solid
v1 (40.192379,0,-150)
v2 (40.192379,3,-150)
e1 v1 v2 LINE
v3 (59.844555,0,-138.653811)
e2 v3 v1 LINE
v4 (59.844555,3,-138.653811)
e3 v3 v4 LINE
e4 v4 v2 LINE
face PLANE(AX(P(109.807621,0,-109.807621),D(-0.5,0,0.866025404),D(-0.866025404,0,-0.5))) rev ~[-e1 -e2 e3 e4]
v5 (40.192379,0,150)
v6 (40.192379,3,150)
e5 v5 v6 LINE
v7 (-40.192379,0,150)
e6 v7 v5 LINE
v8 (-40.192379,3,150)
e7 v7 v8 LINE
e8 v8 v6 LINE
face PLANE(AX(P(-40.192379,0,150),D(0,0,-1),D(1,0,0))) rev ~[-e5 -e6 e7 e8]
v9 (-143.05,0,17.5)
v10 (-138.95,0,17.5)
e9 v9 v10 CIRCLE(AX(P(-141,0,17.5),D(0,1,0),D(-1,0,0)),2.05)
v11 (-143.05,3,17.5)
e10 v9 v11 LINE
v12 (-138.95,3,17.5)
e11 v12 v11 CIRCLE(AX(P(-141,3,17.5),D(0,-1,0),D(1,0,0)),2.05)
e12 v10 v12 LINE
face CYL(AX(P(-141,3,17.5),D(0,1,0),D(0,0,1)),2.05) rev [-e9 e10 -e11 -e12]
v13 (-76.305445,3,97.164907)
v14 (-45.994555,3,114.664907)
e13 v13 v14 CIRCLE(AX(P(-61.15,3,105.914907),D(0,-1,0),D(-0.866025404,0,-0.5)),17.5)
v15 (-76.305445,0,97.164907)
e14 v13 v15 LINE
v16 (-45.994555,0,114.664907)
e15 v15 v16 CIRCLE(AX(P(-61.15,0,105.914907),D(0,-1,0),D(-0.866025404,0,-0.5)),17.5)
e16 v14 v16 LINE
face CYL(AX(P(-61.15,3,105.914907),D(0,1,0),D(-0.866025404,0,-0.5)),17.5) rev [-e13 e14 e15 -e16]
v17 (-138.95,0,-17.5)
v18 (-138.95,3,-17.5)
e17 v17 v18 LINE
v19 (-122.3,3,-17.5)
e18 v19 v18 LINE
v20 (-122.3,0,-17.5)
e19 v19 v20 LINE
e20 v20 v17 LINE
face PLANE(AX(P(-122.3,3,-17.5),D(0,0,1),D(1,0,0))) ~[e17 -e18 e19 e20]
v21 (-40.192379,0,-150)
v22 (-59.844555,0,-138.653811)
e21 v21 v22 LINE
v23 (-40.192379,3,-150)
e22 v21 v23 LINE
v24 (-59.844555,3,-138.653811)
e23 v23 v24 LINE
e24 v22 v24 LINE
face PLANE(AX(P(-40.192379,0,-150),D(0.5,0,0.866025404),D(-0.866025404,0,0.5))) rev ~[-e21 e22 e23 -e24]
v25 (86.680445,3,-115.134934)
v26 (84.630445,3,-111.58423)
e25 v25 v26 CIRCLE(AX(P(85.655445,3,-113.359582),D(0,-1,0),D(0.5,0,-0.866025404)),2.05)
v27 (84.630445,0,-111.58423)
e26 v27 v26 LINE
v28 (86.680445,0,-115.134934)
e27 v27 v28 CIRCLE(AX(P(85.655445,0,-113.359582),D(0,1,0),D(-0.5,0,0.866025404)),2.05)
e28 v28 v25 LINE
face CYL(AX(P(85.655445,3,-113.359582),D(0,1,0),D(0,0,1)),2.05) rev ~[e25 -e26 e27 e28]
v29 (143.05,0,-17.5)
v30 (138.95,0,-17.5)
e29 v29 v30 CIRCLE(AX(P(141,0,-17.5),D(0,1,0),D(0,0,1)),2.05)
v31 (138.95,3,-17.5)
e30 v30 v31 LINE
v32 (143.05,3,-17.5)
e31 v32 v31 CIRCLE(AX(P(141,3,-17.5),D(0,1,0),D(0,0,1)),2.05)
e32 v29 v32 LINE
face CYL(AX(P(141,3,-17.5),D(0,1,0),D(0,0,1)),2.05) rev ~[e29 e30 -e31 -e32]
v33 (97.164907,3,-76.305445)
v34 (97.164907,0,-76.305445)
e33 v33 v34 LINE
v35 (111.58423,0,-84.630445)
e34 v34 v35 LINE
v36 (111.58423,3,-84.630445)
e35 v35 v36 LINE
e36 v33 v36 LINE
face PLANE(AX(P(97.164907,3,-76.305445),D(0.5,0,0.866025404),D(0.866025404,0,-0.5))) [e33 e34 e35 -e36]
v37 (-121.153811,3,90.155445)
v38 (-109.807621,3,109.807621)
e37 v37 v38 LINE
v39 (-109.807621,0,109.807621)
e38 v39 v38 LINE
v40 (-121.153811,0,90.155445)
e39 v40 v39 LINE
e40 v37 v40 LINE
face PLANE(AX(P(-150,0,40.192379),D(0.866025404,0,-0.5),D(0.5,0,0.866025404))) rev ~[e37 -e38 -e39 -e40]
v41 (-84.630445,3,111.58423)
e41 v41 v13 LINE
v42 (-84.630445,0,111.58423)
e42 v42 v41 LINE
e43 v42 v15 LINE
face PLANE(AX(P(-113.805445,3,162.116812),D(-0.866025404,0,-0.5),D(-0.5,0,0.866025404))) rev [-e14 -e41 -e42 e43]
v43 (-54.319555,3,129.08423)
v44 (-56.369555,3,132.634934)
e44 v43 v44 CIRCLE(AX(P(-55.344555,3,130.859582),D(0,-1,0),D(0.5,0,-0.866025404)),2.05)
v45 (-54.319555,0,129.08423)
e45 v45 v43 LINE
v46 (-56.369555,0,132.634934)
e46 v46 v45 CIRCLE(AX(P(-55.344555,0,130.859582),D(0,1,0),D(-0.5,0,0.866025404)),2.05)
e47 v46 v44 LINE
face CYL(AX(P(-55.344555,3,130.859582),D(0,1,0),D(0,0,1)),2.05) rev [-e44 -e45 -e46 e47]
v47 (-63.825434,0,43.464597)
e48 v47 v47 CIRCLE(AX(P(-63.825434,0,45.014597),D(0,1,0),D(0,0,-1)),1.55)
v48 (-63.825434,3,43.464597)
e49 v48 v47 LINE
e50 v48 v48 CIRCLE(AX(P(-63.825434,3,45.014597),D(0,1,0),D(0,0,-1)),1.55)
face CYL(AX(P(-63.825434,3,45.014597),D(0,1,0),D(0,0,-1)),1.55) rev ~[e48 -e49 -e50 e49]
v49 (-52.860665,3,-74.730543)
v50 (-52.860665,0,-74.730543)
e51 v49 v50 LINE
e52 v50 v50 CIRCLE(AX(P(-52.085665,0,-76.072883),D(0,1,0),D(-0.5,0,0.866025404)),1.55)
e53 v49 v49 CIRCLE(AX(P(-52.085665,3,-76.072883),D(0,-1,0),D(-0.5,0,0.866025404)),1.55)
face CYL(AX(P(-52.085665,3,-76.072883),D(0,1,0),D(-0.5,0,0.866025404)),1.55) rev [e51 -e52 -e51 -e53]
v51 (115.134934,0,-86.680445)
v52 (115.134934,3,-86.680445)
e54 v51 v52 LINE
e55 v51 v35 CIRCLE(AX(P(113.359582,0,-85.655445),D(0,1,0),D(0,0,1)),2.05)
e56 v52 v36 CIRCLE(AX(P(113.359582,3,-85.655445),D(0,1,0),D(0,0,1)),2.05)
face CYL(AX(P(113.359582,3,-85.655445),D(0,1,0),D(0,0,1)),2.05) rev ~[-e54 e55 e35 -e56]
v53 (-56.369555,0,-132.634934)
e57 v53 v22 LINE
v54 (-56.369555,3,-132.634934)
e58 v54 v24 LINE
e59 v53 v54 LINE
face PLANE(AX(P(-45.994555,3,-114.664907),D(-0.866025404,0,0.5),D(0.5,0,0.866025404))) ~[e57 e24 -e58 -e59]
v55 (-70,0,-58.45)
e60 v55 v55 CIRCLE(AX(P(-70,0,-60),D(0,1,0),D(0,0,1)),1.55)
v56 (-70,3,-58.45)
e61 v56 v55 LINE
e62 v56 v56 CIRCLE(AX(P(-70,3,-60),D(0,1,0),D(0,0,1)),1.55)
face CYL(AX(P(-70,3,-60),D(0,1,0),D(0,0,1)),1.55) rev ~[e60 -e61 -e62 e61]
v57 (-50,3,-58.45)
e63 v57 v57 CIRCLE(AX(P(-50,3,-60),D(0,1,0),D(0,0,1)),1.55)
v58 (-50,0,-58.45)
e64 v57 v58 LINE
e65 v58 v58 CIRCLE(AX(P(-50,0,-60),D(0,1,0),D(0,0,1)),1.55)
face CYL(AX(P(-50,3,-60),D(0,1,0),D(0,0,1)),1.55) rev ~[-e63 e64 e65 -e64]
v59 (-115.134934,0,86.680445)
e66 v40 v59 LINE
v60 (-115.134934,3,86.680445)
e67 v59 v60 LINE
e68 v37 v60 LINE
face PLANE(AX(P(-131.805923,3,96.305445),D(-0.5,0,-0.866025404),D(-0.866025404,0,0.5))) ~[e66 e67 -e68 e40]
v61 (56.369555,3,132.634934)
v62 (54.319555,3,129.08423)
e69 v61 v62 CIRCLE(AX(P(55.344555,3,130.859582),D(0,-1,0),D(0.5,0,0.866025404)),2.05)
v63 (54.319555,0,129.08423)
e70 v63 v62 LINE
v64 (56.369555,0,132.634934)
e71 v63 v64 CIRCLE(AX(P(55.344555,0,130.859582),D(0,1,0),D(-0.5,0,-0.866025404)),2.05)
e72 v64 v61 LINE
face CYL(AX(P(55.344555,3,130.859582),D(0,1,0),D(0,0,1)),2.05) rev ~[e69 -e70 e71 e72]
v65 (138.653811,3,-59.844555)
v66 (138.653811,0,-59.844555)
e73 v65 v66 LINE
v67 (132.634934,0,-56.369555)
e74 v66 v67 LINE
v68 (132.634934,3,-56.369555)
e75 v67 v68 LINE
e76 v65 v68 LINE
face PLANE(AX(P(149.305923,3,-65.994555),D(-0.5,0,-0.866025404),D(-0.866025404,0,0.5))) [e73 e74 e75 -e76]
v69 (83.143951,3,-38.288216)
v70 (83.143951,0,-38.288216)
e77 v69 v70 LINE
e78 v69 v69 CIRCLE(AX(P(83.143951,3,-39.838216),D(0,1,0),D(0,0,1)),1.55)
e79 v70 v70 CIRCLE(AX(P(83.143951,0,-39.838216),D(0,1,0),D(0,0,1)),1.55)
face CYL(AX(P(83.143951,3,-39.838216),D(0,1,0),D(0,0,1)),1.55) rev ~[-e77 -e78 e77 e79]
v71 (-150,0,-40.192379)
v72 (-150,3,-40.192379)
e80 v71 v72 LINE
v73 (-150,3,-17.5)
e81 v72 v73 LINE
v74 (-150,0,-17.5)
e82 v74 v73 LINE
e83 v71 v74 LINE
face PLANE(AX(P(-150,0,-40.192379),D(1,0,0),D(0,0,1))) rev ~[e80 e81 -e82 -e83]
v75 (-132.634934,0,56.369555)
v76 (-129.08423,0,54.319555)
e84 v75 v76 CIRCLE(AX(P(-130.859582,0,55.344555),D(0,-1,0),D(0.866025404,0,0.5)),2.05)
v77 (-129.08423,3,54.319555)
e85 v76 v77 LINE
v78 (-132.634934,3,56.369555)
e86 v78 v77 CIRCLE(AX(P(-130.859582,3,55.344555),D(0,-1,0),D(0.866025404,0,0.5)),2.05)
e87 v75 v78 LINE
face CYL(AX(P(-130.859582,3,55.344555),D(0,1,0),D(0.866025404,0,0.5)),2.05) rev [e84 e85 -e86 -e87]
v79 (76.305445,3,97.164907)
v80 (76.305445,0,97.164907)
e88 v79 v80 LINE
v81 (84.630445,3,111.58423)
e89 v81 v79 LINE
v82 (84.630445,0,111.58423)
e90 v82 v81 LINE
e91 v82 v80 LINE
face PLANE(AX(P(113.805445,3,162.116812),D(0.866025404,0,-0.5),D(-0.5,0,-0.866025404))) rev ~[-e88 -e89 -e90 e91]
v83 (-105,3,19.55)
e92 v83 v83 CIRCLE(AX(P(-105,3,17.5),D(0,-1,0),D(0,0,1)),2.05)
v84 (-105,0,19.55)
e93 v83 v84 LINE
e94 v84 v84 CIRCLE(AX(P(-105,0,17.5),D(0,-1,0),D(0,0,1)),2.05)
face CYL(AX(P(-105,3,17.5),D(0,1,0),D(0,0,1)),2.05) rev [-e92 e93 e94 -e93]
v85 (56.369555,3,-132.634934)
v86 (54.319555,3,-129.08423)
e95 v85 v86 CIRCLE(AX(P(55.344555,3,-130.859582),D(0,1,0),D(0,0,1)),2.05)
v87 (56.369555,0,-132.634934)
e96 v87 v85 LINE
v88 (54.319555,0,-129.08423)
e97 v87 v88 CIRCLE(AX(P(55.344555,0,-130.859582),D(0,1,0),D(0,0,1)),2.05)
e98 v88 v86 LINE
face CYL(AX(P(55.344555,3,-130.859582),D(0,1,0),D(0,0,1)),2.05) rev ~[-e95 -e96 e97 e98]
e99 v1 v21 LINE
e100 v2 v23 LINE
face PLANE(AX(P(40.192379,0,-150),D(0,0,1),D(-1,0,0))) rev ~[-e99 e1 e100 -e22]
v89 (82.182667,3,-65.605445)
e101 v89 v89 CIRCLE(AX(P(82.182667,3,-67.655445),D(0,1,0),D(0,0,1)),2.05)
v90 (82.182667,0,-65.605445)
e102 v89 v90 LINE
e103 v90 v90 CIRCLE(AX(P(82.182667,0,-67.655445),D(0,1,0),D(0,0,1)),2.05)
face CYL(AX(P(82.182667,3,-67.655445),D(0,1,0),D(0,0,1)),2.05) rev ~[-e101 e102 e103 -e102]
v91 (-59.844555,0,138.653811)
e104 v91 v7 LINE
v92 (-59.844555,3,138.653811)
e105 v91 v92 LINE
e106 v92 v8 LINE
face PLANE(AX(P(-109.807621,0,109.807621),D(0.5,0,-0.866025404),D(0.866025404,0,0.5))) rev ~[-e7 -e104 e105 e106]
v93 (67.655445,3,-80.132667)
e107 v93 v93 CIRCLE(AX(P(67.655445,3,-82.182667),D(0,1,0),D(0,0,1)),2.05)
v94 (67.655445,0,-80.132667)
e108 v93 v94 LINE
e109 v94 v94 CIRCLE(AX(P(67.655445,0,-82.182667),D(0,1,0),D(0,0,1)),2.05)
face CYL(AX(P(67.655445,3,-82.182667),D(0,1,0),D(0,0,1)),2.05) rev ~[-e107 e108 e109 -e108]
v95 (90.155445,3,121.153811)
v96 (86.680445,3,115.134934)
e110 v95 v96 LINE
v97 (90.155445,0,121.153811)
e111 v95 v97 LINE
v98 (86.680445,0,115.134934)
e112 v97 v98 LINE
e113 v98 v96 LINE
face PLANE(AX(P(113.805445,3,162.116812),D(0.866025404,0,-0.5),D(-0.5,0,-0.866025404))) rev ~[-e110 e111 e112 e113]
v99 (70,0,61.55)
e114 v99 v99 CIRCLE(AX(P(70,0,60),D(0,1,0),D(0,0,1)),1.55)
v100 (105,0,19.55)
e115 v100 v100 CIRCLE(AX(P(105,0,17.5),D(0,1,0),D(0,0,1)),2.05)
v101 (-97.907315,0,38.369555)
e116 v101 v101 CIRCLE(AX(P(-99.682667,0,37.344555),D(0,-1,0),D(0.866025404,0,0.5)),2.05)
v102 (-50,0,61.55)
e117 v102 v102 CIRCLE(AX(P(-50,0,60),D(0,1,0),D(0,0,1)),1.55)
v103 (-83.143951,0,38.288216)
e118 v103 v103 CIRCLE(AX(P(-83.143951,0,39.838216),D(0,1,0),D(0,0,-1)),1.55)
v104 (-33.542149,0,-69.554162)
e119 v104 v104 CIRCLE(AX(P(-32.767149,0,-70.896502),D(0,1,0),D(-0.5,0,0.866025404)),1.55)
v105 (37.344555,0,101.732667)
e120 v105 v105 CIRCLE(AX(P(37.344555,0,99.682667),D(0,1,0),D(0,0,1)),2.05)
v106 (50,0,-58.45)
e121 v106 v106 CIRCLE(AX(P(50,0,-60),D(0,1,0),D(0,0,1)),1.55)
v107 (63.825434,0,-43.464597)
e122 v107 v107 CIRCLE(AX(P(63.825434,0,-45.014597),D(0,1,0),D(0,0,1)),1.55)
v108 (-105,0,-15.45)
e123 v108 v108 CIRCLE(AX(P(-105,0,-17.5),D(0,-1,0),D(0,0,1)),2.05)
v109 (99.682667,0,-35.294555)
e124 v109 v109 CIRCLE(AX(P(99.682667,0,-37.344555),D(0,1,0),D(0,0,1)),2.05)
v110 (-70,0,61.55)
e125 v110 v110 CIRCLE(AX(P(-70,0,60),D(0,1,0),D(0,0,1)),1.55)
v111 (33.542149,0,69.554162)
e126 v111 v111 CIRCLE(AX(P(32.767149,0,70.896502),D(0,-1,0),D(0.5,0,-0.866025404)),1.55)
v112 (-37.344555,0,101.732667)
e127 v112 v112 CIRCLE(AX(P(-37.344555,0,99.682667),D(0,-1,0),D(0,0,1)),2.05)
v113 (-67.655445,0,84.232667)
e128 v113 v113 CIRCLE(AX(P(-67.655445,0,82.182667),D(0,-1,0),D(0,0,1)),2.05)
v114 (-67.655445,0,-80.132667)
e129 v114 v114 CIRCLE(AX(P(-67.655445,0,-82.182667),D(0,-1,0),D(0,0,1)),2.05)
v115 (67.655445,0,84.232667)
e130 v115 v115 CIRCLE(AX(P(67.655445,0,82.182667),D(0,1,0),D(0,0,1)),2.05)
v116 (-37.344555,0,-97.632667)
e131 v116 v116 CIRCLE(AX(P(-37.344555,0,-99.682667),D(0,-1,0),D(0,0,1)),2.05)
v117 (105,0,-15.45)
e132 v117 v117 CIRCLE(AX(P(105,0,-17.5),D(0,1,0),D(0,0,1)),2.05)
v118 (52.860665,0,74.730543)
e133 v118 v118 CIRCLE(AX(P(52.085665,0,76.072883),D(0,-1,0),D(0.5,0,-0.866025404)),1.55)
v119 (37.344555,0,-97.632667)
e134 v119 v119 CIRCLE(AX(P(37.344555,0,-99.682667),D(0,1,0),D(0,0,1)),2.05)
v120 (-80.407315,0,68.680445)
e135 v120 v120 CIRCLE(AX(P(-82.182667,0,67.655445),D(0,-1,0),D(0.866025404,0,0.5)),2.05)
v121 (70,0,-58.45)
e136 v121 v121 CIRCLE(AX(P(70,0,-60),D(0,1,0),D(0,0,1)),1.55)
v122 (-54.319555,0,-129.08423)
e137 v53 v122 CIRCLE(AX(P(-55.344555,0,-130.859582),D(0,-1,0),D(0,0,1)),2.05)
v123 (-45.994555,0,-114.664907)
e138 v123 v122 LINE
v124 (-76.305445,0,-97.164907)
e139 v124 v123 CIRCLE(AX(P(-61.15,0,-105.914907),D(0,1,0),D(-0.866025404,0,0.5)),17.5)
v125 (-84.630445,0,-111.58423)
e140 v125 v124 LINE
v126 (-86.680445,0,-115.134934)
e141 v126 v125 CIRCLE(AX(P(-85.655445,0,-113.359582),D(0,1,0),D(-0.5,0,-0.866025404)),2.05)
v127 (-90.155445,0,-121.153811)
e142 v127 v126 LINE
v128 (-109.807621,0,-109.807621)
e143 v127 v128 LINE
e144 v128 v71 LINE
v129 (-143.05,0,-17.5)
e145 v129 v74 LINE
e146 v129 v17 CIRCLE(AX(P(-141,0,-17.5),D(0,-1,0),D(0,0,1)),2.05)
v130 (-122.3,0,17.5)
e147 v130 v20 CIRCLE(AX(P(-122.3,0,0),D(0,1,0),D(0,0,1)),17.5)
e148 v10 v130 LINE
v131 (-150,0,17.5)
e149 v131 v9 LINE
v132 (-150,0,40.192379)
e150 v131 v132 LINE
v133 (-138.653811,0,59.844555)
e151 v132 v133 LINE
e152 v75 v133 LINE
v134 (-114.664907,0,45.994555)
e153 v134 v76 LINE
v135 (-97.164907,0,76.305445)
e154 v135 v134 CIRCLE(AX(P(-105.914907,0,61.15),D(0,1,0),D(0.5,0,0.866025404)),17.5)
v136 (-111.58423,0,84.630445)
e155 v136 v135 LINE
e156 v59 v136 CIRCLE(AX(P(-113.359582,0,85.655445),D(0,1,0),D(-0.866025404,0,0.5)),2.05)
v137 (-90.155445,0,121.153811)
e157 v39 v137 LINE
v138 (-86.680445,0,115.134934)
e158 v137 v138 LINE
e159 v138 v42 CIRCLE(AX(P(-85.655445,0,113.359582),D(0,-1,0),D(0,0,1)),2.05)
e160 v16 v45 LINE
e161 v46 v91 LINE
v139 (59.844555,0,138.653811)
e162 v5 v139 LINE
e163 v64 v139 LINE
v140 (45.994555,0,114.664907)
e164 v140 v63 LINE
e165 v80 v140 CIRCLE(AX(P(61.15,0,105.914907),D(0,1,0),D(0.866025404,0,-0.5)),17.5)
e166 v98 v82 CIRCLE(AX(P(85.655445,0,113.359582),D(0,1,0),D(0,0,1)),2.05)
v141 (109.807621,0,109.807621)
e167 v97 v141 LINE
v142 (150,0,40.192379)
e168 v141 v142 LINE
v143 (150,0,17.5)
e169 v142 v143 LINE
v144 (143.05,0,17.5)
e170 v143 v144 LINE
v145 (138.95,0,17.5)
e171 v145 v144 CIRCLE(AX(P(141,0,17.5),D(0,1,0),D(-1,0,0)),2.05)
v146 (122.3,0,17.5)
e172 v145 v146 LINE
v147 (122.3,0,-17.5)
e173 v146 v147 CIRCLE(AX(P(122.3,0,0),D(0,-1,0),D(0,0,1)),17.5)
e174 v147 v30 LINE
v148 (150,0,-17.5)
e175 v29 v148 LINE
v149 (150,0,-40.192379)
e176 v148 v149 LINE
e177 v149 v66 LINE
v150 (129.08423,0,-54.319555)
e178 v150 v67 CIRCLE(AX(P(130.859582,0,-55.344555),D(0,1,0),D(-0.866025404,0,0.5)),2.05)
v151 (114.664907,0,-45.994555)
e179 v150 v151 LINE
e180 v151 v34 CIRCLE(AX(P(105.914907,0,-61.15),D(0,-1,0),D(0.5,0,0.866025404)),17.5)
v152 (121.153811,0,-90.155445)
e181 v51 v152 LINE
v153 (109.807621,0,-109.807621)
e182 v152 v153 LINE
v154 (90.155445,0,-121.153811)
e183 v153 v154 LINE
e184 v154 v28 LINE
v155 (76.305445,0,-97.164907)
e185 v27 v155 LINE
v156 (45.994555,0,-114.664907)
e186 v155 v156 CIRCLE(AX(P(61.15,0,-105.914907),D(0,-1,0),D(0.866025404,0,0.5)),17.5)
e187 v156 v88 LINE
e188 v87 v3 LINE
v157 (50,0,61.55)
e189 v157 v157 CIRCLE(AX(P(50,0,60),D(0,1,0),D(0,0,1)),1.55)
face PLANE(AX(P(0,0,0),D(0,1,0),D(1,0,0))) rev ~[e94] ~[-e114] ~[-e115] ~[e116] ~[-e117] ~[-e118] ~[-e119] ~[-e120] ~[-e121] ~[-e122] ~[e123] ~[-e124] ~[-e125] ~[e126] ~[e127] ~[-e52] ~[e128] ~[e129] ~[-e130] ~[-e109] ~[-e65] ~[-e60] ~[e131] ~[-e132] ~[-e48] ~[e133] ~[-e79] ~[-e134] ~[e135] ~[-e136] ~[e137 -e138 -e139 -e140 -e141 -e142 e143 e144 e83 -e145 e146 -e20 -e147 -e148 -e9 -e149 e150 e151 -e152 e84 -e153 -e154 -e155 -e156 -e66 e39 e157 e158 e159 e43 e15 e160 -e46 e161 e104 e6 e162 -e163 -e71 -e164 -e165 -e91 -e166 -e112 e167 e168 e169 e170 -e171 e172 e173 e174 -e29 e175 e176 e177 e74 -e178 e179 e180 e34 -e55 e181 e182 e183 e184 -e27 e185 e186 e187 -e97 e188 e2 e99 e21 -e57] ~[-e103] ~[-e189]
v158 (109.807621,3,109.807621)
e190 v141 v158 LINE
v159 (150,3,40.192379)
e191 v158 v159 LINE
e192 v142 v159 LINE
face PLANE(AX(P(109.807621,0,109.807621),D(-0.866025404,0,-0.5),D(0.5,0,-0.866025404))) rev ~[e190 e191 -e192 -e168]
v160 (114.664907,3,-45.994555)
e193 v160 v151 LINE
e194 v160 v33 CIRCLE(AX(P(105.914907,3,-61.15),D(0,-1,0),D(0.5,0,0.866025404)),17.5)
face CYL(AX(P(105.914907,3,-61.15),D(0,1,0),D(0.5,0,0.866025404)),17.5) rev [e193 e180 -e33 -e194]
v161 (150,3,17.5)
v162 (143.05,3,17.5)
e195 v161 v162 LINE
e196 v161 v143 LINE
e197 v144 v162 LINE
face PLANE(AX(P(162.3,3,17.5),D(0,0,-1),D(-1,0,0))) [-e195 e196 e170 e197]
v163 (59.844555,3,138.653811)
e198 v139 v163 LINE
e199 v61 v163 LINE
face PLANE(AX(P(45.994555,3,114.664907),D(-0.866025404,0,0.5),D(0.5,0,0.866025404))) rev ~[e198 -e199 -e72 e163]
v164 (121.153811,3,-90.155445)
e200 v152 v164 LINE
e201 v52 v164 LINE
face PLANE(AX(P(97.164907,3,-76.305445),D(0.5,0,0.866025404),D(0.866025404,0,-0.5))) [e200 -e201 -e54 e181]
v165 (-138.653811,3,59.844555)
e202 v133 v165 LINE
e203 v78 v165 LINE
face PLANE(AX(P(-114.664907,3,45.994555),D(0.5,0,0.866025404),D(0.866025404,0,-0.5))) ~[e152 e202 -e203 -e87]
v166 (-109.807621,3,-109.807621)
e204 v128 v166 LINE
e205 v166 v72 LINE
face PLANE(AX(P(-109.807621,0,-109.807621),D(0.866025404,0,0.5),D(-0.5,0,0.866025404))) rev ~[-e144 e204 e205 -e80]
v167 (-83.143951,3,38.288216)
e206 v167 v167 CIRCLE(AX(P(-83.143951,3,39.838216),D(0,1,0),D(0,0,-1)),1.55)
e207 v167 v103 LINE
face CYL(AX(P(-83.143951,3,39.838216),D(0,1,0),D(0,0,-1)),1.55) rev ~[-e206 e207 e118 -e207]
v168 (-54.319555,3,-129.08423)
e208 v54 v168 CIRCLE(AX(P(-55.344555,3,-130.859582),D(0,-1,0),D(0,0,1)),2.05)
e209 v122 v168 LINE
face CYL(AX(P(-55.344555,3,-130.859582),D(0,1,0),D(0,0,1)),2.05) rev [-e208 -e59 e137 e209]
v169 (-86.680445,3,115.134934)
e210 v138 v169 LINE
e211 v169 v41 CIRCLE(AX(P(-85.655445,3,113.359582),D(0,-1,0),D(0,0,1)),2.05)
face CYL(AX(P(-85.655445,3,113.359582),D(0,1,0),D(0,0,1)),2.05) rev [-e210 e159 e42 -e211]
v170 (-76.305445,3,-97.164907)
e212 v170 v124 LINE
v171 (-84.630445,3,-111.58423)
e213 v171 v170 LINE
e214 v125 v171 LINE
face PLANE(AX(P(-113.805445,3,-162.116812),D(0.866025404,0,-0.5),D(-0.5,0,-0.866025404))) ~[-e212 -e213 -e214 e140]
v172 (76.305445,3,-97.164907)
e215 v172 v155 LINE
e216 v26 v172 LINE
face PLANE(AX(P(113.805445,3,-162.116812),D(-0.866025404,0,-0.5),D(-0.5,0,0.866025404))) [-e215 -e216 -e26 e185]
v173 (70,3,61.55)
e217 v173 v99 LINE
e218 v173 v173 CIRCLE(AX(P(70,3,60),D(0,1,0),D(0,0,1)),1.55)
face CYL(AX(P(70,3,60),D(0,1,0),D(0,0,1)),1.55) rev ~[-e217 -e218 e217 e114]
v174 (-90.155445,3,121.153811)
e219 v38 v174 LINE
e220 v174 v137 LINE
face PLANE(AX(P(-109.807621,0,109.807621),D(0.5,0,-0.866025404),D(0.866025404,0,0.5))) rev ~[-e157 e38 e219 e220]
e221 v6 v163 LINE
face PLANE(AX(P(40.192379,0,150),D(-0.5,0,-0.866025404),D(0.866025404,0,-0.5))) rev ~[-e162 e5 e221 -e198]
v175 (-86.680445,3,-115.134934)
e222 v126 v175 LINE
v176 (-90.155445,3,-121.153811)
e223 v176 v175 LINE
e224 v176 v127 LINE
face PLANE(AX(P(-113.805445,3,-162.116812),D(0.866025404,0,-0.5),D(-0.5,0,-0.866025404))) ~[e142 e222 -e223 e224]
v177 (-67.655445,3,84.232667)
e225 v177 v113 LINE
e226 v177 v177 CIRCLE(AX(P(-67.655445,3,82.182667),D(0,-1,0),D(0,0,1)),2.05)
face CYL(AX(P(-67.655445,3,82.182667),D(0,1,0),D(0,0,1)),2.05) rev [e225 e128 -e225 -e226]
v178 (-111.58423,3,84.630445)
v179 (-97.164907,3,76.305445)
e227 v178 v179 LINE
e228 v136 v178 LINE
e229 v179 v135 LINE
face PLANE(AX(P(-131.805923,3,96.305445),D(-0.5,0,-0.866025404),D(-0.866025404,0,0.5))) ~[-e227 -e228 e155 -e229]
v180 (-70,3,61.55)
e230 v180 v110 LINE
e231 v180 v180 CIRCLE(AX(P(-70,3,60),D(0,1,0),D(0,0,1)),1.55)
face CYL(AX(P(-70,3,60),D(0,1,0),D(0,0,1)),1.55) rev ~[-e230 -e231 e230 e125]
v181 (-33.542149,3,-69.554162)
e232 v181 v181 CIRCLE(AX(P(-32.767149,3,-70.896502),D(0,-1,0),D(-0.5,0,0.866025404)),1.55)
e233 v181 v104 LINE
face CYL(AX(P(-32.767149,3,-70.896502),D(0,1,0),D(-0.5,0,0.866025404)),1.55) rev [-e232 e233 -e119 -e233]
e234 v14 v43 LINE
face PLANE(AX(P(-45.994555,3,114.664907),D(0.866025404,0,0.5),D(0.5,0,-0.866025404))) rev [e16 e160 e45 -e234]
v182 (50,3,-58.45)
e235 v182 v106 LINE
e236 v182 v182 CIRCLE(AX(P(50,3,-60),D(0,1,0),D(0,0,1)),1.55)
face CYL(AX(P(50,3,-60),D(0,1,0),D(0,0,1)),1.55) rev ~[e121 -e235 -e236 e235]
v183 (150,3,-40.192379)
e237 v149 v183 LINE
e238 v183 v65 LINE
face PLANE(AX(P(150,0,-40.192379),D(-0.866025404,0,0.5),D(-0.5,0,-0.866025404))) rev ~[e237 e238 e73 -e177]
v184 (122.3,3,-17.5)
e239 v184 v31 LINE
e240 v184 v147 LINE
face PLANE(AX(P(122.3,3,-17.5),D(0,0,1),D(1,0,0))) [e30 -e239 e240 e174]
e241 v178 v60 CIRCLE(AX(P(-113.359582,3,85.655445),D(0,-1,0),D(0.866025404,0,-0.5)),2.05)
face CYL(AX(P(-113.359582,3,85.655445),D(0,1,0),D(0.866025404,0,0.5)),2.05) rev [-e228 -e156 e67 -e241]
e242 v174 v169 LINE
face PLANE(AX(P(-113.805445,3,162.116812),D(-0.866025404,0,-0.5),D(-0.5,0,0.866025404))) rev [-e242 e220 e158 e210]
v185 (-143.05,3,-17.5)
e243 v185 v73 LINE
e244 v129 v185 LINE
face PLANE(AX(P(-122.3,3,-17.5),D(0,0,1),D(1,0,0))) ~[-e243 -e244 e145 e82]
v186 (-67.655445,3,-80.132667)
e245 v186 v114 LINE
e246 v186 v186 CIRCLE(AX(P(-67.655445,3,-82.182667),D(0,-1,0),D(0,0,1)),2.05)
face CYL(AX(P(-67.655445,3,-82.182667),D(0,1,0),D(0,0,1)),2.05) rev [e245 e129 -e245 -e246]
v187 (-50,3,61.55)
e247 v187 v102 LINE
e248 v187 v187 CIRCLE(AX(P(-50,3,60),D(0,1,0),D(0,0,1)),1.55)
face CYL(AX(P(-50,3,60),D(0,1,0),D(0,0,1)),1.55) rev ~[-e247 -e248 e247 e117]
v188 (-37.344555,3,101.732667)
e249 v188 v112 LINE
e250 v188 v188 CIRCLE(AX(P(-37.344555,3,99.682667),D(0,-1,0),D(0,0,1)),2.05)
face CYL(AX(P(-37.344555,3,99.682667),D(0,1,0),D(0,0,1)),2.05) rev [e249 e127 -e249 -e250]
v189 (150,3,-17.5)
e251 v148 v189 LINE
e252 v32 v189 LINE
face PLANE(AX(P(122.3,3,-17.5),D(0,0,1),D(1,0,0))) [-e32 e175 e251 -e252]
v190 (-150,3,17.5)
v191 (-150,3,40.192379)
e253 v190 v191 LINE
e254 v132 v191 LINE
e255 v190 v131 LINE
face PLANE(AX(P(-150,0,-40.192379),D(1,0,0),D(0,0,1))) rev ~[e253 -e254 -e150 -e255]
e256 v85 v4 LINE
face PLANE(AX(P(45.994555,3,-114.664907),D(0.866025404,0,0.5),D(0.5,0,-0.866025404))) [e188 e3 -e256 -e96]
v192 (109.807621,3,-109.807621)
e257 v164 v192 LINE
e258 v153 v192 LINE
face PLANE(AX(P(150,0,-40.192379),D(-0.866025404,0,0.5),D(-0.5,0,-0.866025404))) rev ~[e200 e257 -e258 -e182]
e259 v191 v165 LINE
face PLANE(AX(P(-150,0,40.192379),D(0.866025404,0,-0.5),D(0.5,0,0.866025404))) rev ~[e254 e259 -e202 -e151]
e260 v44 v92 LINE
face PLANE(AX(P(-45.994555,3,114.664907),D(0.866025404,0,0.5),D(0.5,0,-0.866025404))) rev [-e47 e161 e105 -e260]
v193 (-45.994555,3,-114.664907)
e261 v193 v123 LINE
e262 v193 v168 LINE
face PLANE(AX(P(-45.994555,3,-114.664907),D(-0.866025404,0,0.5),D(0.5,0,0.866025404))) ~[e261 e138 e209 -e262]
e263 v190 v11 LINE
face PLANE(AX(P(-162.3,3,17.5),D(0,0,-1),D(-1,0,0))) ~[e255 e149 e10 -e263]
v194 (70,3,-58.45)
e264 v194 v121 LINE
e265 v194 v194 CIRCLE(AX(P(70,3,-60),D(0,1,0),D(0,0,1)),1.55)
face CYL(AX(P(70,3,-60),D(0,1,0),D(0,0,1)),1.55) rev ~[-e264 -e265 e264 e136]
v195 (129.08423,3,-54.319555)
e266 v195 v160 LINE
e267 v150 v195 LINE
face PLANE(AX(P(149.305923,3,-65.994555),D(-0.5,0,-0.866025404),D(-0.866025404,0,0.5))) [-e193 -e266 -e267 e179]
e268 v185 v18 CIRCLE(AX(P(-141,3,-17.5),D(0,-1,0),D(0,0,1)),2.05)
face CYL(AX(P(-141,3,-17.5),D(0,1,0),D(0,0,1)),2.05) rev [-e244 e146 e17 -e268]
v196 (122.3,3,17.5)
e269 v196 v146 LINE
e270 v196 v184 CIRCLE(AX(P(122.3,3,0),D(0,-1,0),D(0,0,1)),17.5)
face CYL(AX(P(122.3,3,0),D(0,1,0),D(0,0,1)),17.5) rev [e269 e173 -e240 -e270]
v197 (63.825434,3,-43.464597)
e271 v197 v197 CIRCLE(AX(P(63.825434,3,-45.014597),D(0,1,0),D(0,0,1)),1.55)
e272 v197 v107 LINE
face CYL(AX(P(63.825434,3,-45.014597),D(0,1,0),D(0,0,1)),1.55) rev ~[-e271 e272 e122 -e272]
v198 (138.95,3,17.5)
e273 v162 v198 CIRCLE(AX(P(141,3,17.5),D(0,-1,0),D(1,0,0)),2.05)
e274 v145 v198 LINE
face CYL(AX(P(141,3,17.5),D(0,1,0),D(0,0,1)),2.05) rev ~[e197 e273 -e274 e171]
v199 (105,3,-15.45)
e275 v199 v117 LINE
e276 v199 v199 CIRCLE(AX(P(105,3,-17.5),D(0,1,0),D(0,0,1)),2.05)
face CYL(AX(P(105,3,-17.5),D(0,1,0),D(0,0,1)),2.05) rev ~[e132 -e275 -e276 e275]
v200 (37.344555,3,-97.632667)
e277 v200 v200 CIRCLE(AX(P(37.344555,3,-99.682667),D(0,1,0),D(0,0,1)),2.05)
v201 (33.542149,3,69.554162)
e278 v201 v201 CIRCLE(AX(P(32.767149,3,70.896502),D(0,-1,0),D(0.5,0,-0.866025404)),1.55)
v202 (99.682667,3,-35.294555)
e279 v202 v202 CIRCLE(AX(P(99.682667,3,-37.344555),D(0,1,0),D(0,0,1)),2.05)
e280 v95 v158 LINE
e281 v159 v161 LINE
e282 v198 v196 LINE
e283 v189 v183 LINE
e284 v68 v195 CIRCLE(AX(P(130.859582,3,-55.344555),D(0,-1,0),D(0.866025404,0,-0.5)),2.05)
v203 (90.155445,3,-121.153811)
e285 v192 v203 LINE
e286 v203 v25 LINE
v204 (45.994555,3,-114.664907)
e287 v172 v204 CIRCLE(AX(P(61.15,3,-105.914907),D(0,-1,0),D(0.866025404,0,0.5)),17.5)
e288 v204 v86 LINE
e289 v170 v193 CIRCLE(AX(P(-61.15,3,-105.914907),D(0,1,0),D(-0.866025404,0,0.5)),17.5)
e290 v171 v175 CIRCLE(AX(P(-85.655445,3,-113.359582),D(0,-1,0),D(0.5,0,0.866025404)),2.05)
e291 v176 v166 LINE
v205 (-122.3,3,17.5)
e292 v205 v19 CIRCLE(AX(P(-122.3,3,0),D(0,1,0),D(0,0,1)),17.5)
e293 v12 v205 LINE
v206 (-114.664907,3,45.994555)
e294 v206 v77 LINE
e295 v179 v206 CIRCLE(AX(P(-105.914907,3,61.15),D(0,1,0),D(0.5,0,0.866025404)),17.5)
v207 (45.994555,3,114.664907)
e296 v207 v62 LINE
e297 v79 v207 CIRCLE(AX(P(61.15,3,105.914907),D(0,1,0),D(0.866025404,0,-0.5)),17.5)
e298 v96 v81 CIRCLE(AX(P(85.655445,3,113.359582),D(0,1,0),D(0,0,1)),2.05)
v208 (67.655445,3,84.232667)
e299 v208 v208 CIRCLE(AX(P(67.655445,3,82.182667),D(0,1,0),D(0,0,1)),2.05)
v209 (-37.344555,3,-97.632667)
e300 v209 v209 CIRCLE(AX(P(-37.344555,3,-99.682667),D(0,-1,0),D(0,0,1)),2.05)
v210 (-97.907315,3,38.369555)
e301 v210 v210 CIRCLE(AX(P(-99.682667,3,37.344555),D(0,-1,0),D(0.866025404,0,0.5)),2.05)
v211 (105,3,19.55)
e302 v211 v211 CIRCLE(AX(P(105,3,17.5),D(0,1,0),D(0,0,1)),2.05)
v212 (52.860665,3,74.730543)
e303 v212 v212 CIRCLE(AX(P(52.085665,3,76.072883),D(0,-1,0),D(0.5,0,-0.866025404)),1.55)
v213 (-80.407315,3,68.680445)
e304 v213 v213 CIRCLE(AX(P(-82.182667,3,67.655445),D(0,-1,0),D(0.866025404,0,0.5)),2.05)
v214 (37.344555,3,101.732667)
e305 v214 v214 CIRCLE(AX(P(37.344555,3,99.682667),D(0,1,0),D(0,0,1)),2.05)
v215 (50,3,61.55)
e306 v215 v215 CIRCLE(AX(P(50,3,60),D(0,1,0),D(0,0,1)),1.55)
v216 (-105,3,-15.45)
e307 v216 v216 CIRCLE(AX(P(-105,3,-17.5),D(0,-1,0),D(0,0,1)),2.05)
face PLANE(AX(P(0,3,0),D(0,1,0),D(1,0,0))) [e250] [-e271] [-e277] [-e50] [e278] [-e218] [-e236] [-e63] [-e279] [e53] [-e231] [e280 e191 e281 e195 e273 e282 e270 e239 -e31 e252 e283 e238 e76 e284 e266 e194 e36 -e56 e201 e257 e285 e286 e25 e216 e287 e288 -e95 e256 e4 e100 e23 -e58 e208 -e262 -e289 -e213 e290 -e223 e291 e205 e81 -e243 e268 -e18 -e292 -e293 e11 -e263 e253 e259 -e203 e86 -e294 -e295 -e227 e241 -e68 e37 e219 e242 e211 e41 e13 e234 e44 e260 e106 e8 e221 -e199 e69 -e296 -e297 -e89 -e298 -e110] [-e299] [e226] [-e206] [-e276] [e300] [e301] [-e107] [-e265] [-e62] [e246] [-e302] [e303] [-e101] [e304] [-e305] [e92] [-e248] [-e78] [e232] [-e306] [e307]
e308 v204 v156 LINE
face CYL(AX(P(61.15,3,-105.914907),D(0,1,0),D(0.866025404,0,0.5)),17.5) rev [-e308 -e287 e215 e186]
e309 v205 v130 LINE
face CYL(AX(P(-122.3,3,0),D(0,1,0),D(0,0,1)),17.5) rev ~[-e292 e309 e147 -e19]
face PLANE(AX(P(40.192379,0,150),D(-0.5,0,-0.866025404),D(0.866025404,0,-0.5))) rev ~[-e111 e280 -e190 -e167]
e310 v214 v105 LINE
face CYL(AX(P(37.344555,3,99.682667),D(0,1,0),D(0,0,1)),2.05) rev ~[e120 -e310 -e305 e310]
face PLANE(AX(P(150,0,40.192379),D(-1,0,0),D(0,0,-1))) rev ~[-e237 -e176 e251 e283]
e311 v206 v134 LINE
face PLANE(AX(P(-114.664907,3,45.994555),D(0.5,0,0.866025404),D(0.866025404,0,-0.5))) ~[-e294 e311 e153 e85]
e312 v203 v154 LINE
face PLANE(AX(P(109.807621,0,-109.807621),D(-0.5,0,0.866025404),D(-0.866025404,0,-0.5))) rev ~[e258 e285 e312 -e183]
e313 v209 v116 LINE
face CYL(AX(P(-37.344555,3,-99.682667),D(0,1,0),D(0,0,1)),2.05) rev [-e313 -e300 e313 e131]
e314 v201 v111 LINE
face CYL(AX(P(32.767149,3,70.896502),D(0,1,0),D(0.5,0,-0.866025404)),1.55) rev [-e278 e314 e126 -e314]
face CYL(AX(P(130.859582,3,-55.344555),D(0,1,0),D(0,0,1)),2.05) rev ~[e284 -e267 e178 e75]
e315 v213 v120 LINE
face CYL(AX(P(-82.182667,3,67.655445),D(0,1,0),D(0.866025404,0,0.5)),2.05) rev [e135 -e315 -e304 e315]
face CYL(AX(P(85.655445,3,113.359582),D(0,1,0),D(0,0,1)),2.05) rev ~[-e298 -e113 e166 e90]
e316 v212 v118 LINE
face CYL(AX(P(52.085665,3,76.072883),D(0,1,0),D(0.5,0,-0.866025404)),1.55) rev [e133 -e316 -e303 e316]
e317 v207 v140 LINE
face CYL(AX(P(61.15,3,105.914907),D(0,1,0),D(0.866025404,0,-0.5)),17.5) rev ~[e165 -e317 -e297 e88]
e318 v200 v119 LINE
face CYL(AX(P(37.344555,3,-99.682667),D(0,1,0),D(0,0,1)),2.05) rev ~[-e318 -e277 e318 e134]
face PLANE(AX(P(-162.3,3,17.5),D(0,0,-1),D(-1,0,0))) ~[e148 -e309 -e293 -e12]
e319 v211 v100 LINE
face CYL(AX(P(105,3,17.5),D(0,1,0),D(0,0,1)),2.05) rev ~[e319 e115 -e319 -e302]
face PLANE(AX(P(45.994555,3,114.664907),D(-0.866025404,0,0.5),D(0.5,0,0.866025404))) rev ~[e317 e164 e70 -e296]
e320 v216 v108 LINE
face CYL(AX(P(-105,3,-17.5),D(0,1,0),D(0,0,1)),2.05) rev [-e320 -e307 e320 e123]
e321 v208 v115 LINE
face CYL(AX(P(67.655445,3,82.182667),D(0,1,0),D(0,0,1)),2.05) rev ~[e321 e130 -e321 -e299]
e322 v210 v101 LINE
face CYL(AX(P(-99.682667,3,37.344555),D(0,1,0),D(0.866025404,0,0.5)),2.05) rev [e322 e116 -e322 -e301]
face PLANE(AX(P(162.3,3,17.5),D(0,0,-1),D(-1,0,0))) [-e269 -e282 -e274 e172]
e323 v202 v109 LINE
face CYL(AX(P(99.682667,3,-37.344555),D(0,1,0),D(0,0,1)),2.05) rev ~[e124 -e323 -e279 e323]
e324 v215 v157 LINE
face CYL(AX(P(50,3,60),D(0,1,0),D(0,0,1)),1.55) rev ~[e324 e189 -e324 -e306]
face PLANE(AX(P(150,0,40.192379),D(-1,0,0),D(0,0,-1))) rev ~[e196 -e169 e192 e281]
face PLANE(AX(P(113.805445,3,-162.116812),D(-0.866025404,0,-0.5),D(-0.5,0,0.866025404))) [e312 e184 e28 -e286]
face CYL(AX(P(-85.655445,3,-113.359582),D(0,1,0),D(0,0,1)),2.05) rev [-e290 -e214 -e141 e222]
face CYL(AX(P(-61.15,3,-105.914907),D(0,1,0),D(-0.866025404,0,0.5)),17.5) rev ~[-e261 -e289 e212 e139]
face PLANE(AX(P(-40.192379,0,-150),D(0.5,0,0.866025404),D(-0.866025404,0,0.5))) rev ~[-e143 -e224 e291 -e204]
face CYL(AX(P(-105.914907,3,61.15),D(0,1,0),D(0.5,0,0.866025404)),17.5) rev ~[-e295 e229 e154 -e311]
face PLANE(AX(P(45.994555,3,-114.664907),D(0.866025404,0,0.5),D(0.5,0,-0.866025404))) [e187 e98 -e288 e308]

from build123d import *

# Parameters (mm, degrees)
BOSS_EXTRUDE1_DEPTH     = 3
SKETCH2_R               = 2.05
HEXCUT1_DEPTH           = 3
SKETCH5_R               = 1.55
RAILMOUNTHOLES_DEPTH    = 3
LPATTERN1_COUNT         = 2
LPATTERN1_PITCH         = 120
LPATTERN1_COUNT_DIR2    = 2
LPATTERN1_PITCH_DIR2    = 120
SKETCH6_R               = 2.05
QUADCUT1_DEPTH          = 3
CUT_EXTRUDE3_DEPTH      = 3
CUT_EXTRUDE4_DEPTH      = 3
SKETCH9_R               = 1.55
CUT_EXTRUDE5_DEPTH      = 3
MIRROR6_COPY_1_SKETCH_R = 1.55
MIRROR6_COPY_1_DEPTH    = 3
MIRROR6_COPY_2_SKETCH_R = 1.55
MIRROR6_COPY_2_DEPTH    = 3


with BuildPart() as part:
    # Sketch1 → Boss-Extrude1 (new body)
    with BuildSketch(Plane(origin=(0, 0, 0), x_dir=(1, 0, 0), z_dir=(0, 1, 0))):
        Polygon((150, -40.192378865), (150, 40.192378865), (109.807621135, 109.807621135), (40.192378865, 150), (-40.192378865, 150), (-109.807621135, 109.807621135), (-150, 40.192378865), (-150, -40.192378865), (-109.807621135, -109.807621135), (-40.192378865, -150), (40.192378865, -150), (109.807621135, -109.807621135), align=None)
    extrude(amount=BOSS_EXTRUDE1_DEPTH)

    # Sketch2 → HexCut1 (cut)
    with BuildSketch(Plane(origin=(0, 3, 0), x_dir=(1, 0, 0), z_dir=(0, 1, 0))):
        with Locations(Location((55.344555434, 130.859581934, 0), (0, 0, 270))):
            Circle(SKETCH2_R)
        with Locations(Location((37.344555434, 99.682667397, 0), (0, 0, 270))):
            Circle(SKETCH2_R)
        with Locations(Location((37.344555434, -99.682667397, 0), (0, 0, 270))):
            Circle(SKETCH2_R)
        with Locations(Location((55.344555434, -130.859581934, 0), (0, 0, 270))):
            Circle(SKETCH2_R)
        with Locations(Location((105, 17.5, 0), (0, 0, 270))):
            Circle(SKETCH2_R)
        with Locations(Location((141, 17.5, 0), (0, 0, 270))):
            Circle(SKETCH2_R)
        with Locations(Location((105, -17.5, 0), (0, 0, 270))):
            Circle(SKETCH2_R)
        with Locations(Location((141, -17.5, 0), (0, 0, 270))):
            Circle(SKETCH2_R)
        with Locations(Location((85.655444566, -113.359581934, 0), (0, 0, 270))):
            Circle(SKETCH2_R)
        with Locations(Location((67.655444566, -82.182667397, 0), (0, 0, 270))):
            Circle(SKETCH2_R)
        with Locations(Location((85.655444566, 113.359581934, 0), (0, 0, 270))):
            Circle(SKETCH2_R)
        with Locations(Location((67.655444566, 82.182667397, 0), (0, 0, 270))):
            Circle(SKETCH2_R)
    hexcut1 = extrude(amount=-HEXCUT1_DEPTH, mode=Mode.SUBTRACT)

    # HexCut2: HexCut1 across plane
    add(hexcut1.mirror(Plane(origin=(0, 0, 0), x_dir=(0, 0, 1), z_dir=(1, 0, 0))), mode=Mode.SUBTRACT)

    # Sketch5 → RailMountHoles (cut)
    with BuildSketch(Plane(origin=(0, 3, 0), x_dir=(1, 0, 0), z_dir=(0, 1, 0))):
        with Locations(Location((50, 60, 0), (0, 0, 270))):
            Circle(SKETCH5_R)
        with Locations(Location((70, 60, 0), (0, 0, 270))):
            Circle(SKETCH5_R)
    railmountholes = extrude(amount=-RAILMOUNTHOLES_DEPTH, mode=Mode.SUBTRACT)

    # LPattern1: RailMountHoles 2 × 2
    with Locations(*[(-j * LPATTERN1_PITCH_DIR2, 0, i * LPATTERN1_PITCH) for i in range(LPATTERN1_COUNT) for j in range(LPATTERN1_COUNT_DIR2) if (i, j) != (0, 0)]):
        add(railmountholes, mode=Mode.SUBTRACT)

    # Sketch6 → QuadCut1 (cut)
    with BuildSketch(Plane(origin=(0, 3, 0), x_dir=(1, 0, 0), z_dir=(0, 1, 0))):
        with Locations(Location((99.682667397, 37.344555434, 0), (0, 0, 270))):
            Circle(SKETCH6_R)
        with Locations(Location((130.859581934, 55.344555434, 0), (0, 0, 270))):
            Circle(SKETCH6_R)
        with Locations(Location((113.359581934, 85.655444566, 0), (0, 0, 270))):
            Circle(SKETCH6_R)
        with Locations(Location((82.182667397, 67.655444566, 0), (0, 0, 270))):
            Circle(SKETCH6_R)
    quadcut1 = extrude(amount=-QUADCUT1_DEPTH, mode=Mode.SUBTRACT)

    # Mirror1: QuadCut1 across plane
    add(quadcut1.mirror(Plane(origin=(0, 0, 0), x_dir=(0.5000000000000011, 0, 0.8660254037844378), z_dir=(0.8660254037844379, 0, -0.5000000000000012))), mode=Mode.SUBTRACT)

    # Sketch7 → Cut-Extrude3 (cut)
    with BuildSketch(Plane(origin=(0, 3, 0), x_dir=(1, 0, 0), z_dir=(0, 1, 0))):
        with BuildLine():
            Line((45.994555434, 114.664906883), (83.494555434, 179.616812167))
            Line((83.494555434, 179.616812167), (113.805444566, 162.116812167))
            Line((113.805444566, 162.116812167), (76.305444566, 97.164906883))
            ThreePointArc((76.305444566, 97.164906883), (52.4, 90.759462317), (45.994555434, 114.664906883))
        make_face()
        with BuildLine():
            Line((45.994555434, -114.664906883), (83.494555434, -179.616812167))
            Line((83.494555434, -179.616812167), (113.805444566, -162.116812167))
            Line((113.805444566, -162.116812167), (76.305444566, -97.164906883))
            ThreePointArc((76.305444566, -97.164906883), (52.4, -90.759462317), (45.994555434, -114.664906883))
        make_face()
        with BuildLine():
            Line((122.3, 17.5), (162.3, 17.5))
            Line((162.3, 17.5), (162.3, -17.5))
            Line((162.3, -17.5), (122.3, -17.5))
            ThreePointArc((122.3, -17.5), (104.8, 0), (122.3, 17.5))
        make_face()
    cut_extrude3 = extrude(amount=-CUT_EXTRUDE3_DEPTH, mode=Mode.SUBTRACT)

    # Mirror2: Cut-Extrude3 across plane
    add(cut_extrude3.mirror(Plane(origin=(0, 0, 0), x_dir=(0, 0, 1), z_dir=(1, 0, 0))), mode=Mode.SUBTRACT)

    # Sketch8 → Cut-Extrude4 (cut)
    with BuildSketch(Plane(origin=(0, 3, 0), x_dir=(1, 0, 0), z_dir=(0, 1, 0))):
        with BuildLine():
            Line((97.164906883, 76.305444566), (131.805923034, 96.305444566))
            Line((131.805923034, 96.305444566), (149.305923034, 65.994555434))
            Line((149.305923034, 65.994555434), (114.664906883, 45.994555434))
            ThreePointArc((114.664906883, 45.994555434), (90.759462317, 52.4), (97.164906883, 76.305444566))
        make_face()
    cut_extrude4 = extrude(amount=-CUT_EXTRUDE4_DEPTH, mode=Mode.SUBTRACT)

    # Mirror3: Cut-Extrude4 across plane
    add(cut_extrude4.mirror(Plane(origin=(0, 0, 0), x_dir=(0.5000000000000011, 0, 0.8660254037844378), z_dir=(0.8660254037844379, 0, -0.5000000000000012))), mode=Mode.SUBTRACT)

    # Sketch9 → Cut-Extrude5 (cut)
    with BuildSketch(Plane(origin=(0, 3, 0), x_dir=(1, 0, 0), z_dir=(0, 1, 0))):
        with Locations(Location((63.825434021, 45.014597322, 0), (0, 0, 270))):
            Circle(SKETCH9_R)
        with Locations(Location((83.143950546, 39.83821642, 0), (0, 0, 270))):
            Circle(SKETCH9_R)
    cut_extrude5 = extrude(amount=-CUT_EXTRUDE5_DEPTH, mode=Mode.SUBTRACT)

    # Mirror4: Cut-Extrude5 across plane
    add(cut_extrude5.mirror(Plane(origin=(0, 0, 0), x_dir=(0.9659258262890692, 0, 0.2588190451025174), z_dir=(0.2588190451025174, 0, -0.9659258262890692))), mode=Mode.SUBTRACT)

    # Mirror5: Cut-Extrude5 across plane
    add(cut_extrude5.mirror(Plane(origin=(0, 0, 0), x_dir=(-0.2588190451025206, 0, 0.9659258262890683), z_dir=(0.9659258262890683, 0, 0.2588190451025206))), mode=Mode.SUBTRACT)

    # Mirror6 copy 1 sketch → Mirror6 copy 1 (cut)
    with BuildSketch(Plane(origin=(0, 3, 0), x_dir=(-1, 0, 0), z_dir=(0, 1, 0))):
        with Locations(Location((63.825434021, 45.014597322, 0), (0, 0, 270))):
            Circle(MIRROR6_COPY_1_SKETCH_R)
        with Locations(Location((83.143950546, 39.83821642, 0), (0, 0, 270))):
            Circle(MIRROR6_COPY_1_SKETCH_R)
    extrude(amount=-MIRROR6_COPY_1_DEPTH, mode=Mode.SUBTRACT)

    # Mirror6 copy 2 sketch → Mirror6 copy 2 (cut)
    with BuildSketch(Plane(origin=(0, 3, 0), x_dir=(-0.8660254037844388, 0, -0.49999999999999967), z_dir=(0, 1, 0))):
        with Locations((63.825434021, -45.014597322)):
            Circle(MIRROR6_COPY_2_SKETCH_R)
        with Locations((83.143950546, -39.83821642)):
            Circle(MIRROR6_COPY_2_SKETCH_R)
    extrude(amount=-MIRROR6_COPY_2_DEPTH, mode=Mode.SUBTRACT)


solid = part.part
